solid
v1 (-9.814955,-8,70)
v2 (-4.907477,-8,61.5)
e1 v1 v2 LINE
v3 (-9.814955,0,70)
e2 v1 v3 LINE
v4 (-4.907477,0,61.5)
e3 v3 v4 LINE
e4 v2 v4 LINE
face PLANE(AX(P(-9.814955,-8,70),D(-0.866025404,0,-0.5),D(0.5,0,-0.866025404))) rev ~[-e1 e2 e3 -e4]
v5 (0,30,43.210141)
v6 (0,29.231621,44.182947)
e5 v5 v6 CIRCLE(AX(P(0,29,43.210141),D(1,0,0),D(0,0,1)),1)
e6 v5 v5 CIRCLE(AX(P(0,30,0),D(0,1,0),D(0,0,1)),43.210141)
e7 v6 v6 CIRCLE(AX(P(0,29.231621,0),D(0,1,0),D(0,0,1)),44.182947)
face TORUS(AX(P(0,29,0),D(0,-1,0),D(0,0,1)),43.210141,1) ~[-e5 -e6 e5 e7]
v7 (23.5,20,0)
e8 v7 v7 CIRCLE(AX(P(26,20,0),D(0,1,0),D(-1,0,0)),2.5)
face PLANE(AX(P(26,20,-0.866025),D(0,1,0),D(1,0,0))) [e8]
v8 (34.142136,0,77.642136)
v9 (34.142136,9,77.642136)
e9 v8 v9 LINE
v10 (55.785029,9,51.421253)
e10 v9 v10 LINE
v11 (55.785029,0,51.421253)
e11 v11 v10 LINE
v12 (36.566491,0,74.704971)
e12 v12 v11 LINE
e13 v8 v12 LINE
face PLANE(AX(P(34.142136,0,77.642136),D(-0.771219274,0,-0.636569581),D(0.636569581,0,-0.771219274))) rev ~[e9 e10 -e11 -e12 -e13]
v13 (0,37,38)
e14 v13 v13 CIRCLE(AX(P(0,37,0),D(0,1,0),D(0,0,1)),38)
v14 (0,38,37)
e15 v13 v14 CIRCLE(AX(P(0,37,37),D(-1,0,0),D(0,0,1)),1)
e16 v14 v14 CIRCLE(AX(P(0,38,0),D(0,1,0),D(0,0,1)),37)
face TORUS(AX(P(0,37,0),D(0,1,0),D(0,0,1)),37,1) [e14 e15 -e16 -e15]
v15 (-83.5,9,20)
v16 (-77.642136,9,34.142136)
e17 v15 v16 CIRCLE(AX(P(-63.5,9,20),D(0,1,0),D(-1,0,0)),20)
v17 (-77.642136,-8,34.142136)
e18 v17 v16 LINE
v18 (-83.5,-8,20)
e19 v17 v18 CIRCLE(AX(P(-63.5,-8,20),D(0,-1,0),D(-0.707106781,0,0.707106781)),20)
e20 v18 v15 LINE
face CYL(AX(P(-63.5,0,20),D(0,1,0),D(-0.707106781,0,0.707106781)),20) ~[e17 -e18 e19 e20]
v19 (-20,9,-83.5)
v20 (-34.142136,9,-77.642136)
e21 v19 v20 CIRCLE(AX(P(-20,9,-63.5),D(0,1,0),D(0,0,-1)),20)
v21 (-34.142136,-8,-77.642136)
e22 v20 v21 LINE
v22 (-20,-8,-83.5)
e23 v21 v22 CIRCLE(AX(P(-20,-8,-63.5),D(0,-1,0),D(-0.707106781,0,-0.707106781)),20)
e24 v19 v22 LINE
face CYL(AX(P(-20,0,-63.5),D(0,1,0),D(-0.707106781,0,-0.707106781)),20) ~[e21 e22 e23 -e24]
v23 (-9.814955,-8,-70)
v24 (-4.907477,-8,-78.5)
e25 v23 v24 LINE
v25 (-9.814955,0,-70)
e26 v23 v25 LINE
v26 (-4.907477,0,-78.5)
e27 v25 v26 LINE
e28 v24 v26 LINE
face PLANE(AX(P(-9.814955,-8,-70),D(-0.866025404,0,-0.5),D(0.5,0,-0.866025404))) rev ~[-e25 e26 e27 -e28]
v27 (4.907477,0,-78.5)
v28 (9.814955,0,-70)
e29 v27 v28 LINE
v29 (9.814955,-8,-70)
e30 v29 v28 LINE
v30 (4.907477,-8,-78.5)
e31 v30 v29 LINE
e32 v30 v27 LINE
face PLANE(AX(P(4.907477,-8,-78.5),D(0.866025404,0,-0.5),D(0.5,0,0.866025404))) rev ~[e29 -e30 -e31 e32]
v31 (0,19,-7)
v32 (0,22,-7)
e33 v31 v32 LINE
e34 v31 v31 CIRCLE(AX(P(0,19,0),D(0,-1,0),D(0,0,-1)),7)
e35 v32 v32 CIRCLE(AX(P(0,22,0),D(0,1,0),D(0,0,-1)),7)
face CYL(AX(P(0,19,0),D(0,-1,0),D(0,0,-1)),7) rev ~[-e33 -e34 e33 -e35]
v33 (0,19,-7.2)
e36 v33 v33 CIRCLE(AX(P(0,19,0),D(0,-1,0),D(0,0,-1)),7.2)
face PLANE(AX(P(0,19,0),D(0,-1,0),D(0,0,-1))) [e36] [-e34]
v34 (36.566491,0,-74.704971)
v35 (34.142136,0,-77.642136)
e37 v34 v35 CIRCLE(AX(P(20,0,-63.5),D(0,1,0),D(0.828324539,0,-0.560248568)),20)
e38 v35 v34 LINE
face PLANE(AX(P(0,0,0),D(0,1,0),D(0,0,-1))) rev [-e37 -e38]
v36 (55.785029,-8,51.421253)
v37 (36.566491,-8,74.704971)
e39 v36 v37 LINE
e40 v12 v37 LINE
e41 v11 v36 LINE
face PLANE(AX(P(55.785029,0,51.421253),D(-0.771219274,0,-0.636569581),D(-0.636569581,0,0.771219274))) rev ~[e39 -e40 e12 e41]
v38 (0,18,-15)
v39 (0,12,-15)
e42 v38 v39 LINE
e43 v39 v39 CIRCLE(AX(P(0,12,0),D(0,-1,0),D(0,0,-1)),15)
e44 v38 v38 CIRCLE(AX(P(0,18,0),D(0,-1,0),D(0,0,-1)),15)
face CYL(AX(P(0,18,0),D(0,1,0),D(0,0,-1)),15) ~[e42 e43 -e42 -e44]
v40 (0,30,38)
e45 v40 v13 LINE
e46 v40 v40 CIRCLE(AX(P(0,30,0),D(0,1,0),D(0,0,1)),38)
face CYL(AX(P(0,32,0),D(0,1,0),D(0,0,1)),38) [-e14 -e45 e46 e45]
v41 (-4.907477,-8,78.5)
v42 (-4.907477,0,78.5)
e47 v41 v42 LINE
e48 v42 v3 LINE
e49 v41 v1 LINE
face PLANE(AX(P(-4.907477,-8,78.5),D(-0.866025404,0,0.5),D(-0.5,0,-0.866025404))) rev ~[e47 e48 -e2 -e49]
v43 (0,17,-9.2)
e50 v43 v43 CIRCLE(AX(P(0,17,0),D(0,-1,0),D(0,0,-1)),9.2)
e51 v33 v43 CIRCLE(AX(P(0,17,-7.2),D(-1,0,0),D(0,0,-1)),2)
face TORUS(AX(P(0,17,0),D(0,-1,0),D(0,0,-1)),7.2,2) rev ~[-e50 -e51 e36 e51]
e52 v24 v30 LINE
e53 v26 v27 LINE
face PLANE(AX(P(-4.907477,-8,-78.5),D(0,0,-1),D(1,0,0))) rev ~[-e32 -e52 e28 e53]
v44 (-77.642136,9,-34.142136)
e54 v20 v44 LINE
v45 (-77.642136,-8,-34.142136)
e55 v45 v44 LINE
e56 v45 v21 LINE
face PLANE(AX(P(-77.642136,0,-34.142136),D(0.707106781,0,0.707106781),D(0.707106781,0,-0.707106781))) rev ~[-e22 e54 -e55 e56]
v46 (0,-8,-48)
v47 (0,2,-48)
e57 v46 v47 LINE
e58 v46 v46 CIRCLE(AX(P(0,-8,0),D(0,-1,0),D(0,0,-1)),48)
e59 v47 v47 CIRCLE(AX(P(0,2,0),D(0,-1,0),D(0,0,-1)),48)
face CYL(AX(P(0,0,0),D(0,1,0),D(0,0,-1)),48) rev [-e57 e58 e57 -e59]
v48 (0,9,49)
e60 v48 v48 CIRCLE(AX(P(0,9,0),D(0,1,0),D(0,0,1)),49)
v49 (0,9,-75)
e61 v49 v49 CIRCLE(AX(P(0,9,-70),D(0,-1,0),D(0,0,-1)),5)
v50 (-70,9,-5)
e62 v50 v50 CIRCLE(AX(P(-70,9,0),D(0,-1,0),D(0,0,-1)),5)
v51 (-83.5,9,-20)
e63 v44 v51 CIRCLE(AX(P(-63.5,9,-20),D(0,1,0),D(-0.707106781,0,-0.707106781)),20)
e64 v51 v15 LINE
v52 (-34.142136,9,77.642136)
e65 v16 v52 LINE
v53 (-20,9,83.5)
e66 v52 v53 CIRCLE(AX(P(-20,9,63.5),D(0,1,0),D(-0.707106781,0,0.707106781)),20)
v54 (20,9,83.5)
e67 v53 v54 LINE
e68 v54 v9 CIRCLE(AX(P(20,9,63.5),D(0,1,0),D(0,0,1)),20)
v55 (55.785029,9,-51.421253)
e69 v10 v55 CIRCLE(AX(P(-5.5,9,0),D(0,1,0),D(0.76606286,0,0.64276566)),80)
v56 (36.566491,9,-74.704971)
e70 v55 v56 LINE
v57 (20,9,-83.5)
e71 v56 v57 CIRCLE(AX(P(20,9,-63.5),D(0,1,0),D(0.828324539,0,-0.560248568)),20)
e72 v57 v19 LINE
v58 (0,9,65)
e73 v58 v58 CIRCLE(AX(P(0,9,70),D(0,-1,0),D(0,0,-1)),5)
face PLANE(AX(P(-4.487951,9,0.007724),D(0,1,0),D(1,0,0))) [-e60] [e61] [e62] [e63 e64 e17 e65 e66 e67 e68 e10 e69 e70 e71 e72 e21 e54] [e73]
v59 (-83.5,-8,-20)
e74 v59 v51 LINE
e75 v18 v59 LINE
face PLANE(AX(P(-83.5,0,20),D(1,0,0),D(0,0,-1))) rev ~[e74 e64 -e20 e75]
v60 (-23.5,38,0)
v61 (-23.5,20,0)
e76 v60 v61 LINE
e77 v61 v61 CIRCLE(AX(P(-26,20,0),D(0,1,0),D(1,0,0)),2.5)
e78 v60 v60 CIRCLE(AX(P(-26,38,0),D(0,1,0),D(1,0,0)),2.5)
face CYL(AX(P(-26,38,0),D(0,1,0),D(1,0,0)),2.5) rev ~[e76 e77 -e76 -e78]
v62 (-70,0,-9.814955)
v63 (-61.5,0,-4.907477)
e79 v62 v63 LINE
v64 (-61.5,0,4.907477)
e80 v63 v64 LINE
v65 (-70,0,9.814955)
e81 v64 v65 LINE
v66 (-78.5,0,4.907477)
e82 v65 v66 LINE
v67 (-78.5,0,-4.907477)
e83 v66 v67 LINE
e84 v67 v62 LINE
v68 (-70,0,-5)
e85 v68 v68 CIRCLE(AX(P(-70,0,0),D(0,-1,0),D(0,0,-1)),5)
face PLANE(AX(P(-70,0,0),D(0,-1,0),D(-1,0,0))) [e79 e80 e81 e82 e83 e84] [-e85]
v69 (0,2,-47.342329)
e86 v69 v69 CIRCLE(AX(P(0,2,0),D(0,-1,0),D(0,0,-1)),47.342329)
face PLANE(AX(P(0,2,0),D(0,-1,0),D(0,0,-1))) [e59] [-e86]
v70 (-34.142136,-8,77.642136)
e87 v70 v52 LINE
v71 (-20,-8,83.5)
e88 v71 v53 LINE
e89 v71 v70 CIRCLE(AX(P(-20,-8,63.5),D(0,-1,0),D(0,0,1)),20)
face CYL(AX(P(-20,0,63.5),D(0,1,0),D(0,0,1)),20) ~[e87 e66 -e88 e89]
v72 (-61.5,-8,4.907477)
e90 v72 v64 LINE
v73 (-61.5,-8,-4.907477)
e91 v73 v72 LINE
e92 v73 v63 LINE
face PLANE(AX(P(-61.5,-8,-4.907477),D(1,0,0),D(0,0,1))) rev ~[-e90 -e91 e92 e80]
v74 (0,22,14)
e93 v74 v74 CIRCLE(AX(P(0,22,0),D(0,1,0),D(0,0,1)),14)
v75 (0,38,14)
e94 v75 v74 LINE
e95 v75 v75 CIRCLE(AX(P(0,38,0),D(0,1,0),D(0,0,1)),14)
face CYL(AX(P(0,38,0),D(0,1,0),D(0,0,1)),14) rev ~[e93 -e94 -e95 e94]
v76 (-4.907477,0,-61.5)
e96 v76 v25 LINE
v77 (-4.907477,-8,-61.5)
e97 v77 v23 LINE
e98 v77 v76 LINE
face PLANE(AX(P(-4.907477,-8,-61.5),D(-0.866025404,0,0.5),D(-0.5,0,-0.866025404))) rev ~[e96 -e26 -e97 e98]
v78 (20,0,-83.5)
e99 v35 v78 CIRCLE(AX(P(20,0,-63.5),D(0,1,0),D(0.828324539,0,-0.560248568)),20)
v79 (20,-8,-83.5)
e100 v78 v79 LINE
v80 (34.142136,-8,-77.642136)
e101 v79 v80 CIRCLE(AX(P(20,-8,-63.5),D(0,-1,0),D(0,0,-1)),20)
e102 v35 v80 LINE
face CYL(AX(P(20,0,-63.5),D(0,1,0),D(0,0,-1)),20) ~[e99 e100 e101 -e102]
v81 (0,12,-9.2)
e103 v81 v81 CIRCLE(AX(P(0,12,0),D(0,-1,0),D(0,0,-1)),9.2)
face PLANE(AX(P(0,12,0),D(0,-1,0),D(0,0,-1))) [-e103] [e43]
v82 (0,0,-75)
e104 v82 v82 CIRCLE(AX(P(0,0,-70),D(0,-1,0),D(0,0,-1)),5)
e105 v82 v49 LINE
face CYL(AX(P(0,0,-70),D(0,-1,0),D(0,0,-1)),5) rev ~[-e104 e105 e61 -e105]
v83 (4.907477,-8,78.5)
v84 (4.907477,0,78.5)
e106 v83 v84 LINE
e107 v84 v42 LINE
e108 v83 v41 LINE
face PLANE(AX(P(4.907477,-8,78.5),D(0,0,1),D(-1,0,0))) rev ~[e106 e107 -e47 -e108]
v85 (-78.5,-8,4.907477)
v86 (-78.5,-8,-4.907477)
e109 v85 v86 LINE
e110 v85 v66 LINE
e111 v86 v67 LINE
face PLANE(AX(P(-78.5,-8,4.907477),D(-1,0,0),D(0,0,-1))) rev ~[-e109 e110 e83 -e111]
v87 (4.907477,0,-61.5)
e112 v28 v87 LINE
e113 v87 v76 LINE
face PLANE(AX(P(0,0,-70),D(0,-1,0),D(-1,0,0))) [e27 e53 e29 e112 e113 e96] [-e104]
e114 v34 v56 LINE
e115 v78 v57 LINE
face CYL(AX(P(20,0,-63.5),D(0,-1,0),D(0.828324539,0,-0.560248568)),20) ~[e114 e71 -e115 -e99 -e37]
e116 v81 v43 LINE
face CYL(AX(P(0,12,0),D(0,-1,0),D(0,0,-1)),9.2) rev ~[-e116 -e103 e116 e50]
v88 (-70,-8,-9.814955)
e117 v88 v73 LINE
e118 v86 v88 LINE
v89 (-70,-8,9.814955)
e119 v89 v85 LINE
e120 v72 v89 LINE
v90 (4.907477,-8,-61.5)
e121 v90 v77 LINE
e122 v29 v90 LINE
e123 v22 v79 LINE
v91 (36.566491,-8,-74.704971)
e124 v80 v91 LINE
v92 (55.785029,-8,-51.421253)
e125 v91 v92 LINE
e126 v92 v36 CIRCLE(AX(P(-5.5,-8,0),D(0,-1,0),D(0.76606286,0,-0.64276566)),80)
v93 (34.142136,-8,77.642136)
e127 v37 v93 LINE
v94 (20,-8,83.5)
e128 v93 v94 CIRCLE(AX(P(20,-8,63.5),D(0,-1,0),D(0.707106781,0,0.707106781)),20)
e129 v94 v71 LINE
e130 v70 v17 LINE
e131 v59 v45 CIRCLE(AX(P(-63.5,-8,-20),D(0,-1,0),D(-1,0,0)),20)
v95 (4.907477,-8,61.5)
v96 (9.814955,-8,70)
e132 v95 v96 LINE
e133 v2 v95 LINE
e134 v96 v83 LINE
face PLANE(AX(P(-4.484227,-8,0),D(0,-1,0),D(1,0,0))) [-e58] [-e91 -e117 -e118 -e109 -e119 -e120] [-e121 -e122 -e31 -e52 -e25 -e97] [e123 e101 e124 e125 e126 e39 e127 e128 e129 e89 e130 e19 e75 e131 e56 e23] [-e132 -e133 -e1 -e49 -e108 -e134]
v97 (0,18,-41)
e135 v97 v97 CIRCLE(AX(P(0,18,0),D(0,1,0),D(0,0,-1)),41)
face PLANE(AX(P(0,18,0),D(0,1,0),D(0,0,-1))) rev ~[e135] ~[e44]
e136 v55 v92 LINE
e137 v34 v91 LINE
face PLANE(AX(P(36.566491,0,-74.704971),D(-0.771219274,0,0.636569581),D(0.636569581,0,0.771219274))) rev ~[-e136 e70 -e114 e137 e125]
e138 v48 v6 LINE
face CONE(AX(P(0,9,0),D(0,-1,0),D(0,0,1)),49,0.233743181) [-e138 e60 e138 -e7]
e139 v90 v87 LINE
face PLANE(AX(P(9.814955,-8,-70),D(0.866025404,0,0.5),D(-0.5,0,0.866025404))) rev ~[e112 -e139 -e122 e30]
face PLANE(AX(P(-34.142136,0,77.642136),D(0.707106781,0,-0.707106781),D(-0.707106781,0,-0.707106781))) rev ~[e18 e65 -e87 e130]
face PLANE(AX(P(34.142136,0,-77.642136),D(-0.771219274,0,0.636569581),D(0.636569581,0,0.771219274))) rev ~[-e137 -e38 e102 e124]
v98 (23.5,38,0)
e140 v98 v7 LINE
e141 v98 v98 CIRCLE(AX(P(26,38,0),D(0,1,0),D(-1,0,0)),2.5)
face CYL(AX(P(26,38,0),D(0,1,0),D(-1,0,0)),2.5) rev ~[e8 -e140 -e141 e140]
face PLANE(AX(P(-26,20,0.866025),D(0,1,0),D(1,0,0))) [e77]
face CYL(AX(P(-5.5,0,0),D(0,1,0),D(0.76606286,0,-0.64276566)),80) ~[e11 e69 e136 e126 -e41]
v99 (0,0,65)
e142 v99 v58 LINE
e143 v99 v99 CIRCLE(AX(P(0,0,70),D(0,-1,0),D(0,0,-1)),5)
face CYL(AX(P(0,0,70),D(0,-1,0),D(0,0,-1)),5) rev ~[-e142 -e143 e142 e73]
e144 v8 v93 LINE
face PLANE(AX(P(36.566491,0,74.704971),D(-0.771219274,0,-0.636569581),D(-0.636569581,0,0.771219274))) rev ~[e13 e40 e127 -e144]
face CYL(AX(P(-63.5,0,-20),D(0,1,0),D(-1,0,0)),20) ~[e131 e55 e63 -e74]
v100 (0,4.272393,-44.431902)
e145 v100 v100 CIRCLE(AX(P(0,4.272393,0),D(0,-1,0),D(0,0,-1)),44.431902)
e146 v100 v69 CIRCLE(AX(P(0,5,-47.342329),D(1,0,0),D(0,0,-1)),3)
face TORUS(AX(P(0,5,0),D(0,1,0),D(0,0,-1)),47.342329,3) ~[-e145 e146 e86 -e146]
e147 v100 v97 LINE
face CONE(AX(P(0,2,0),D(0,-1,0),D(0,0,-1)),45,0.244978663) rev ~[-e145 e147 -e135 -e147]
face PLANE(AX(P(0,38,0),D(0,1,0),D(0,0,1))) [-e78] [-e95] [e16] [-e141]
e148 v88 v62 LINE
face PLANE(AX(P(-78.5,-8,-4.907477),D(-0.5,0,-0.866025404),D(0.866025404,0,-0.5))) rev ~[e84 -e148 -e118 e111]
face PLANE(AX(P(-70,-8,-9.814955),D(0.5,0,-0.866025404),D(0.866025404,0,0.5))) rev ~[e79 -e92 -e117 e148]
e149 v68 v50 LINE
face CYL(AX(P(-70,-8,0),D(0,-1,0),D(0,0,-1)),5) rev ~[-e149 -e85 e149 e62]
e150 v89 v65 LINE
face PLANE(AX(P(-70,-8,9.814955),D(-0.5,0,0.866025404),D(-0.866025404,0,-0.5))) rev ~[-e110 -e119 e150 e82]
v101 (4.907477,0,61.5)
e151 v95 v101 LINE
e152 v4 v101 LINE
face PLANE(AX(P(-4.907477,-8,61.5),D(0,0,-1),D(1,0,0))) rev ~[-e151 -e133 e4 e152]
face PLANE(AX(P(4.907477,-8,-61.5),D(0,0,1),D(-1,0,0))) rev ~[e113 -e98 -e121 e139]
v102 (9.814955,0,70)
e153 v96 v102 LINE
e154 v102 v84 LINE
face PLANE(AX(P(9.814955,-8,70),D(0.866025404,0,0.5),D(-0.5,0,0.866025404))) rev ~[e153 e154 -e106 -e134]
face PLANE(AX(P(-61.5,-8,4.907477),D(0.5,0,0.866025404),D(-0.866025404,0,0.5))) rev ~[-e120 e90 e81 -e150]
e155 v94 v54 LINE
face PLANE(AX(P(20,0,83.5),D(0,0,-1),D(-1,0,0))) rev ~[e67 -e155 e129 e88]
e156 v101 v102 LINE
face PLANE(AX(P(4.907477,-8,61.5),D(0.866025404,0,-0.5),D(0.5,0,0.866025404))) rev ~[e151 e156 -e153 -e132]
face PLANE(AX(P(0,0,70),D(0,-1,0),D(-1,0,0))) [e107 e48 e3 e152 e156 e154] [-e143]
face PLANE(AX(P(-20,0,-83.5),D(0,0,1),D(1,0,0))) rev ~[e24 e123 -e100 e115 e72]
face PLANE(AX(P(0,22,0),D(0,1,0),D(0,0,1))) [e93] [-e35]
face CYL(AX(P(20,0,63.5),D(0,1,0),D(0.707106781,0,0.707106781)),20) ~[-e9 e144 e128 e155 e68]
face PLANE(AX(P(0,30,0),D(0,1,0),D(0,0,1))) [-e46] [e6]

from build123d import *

# Parameters (mm, degrees)
SKETCH1_W           = 44
SKETCH1_H           = 14
SKETCH1_W_2         = 51
SKETCH1_H_2         = 2
SKETCH3_W           = 45
SKETCH3_H           = 2
SKETCH4_R           = 15
BOSS_EXTRUDE1_DEPTH = 6
SKETCH5_R           = 9.2
CUT_EXTRUDE3_DEPTH  = 7
SKETCH6_R           = 7
CUT_EXTRUDE4_DEPTH  = 27
FILLET1_R           = 2
SKETCH9_R           = 44
SKETCH9_R_2         = 38
CUT_EXTRUDE6_DEPTH  = 2
SKETCH13_R          = 38
SKETCH13_R_2        = 7
BOSS_EXTRUDE2_DEPTH = 6
FILLET5_R           = 1
SKETCH14_R          = 14
SKETCH14_R_2        = 7
CUT_EXTRUDE9_DEPTH  = 16
BOSS_EXTRUDE3_DEPTH = 9
SKETCH16_W          = 15
SKETCH16_H          = 10
SKETCH17_R          = 5
CUT_EXTRUDE11_DEPTH = 10
FILLET6_R           = 1
SKETCH26_W          = 3
SKETCH26_H          = 2
SKETCH29_R          = 48
SKETCH29_R_2        = 45
CUT_EXTRUDE12_DEPTH = 2
FILLET7_R           = 3
SKETCH34_R          = 5
SKETCH34_R_2        = 48
BOSS_EXTRUDE7_DEPTH = 8
CUT_EXTRUDE14_DEPTH = 8
CUT_EXTRUDE15_DEPTH = 18
SKETCH40_R          = 5
CUT_EXTRUDE16_DEPTH = 20
CUT_EXTRUDE17_DEPTH = 8


with BuildPart() as part:
    # Sketch1 → Revolve1 (revolve)
    with BuildSketch(Plane(origin=(0, 0, 0), x_dir=(0, 0, -1), z_dir=(1, 0, 0)), mode=Mode.PRIVATE) as revolve1_sk:
        with Locations((22, 25)):
            Rectangle(SKETCH1_W, SKETCH1_H)
        Polygon((44, 18), (0, 18), (0, 2), (51, 2), align=None)
        with Locations((25.5, 1)):
            Rectangle(SKETCH1_W_2, SKETCH1_H_2)
    revolve(revolve1_sk.sketch.rotate(Axis((0, 32.712152445, 0), (0, -1, 0)), 180), axis=Axis((0, 32.712152445, 0), (0, -1, 0)))

    # Sketch3 → Cut-Revolve1 (revolve, cut)
    with BuildSketch(Plane(origin=(0, 0, 0), x_dir=(0, 0, -1), z_dir=(1, 0, 0))):
        with Locations((22.5, 1)):
            Rectangle(SKETCH3_W, SKETCH3_H)
        Polygon((0, 18), (0, 2), (45, 2), (41, 18), align=None)
    revolve(axis=Axis((0, -18.749054984, 0), (0, 1, 0)), mode=Mode.SUBTRACT)

    # Sketch4 → Boss-Extrude1 (add)
    with BuildSketch(Plane(origin=(0, 18, 0), x_dir=(-1, 0, 0), z_dir=(0, -1, 0))):
        with Locations(Location((0, 0, 0), (0, 0, 90))):
            Circle(SKETCH4_R)
    extrude(amount=BOSS_EXTRUDE1_DEPTH)

    # Sketch5 → Cut-Extrude3 (cut)
    with BuildSketch(Plane.XZ.offset(-12)):
        with Locations(Location((0, 0, 0), (0, 0, 270))):
            Circle(SKETCH5_R)
    extrude(amount=-CUT_EXTRUDE3_DEPTH, mode=Mode.SUBTRACT)

    # Sketch6 → Cut-Extrude4 (cut)
    with BuildSketch(Plane.XZ.offset(-19)):
        with Locations(Location((0, 0, 0), (0, 0, 270))):
            Circle(SKETCH6_R)
    extrude(amount=-CUT_EXTRUDE4_DEPTH, mode=Mode.SUBTRACT)

    # Fillet1
    fillet1_edges = [part.edges().sort_by_distance(p)[0] for p in [
        (0, 19, 9.2),
    ]]
    fillet(fillet1_edges, radius=FILLET1_R)

    # Sketch9 → Cut-Extrude6 (cut)
    with BuildSketch(Plane(origin=(0, 32, 0), x_dir=(1, 0, 0), z_dir=(0, 1, 0))):
        with Locations(Location((0, 0, 0), (0, 0, 270))):
            Circle(SKETCH9_R)
        with Locations(Location((0, 0, 0), (0, 0, 270))):
            Circle(SKETCH9_R_2, mode=Mode.SUBTRACT)
    extrude(amount=-CUT_EXTRUDE6_DEPTH, mode=Mode.SUBTRACT)

    # Sketch13 → Boss-Extrude2 (add)
    with BuildSketch(Plane(origin=(0, 32, 0), x_dir=(1, 0, 0), z_dir=(0, 1, 0))):
        with Locations(Location((0, 0, 0), (0, 0, 270))):
            Circle(SKETCH13_R)
        with Locations(Location((0, 0, 0), (0, 0, 90))):
            Circle(SKETCH13_R_2, mode=Mode.SUBTRACT)
    extrude(amount=BOSS_EXTRUDE2_DEPTH)

    # Fillet5
    fillet5_edges = [part.edges().sort_by_distance(p)[0] for p in [
        (0, 38, -38),
    ]]
    fillet(fillet5_edges, radius=FILLET5_R)

    # Sketch14 → Cut-Extrude9 (cut)
    with BuildSketch(Plane(origin=(0, 38, 0), x_dir=(1, 0, 0), z_dir=(0, 1, 0))):
        with Locations(Location((0, 0, 0), (0, 0, 270))):
            Circle(SKETCH14_R)
        with Locations(Location((0, 0, 0), (0, 0, 90))):
            Circle(SKETCH14_R_2, mode=Mode.SUBTRACT)
    extrude(amount=-CUT_EXTRUDE9_DEPTH, mode=Mode.SUBTRACT)

    # Sketch15 → Boss-Extrude3 (add)
    with BuildSketch(Plane(origin=(0, 0, 0), x_dir=(1, 0, 0), z_dir=(0, 1, 0))):
        with BuildLine():
            Line((-77.642135624, -34.142135624), (-34.142135624, -77.642135624))
            ThreePointArc((-34.142135624, -77.642135624), (-27.653668647, -81.97759065), (-20, -83.5))
            Line((-20, -83.5), (20, -83.5))
            ThreePointArc((20, -83.5), (27.653668647, -81.97759065), (34.142135624, -77.642135624))
            Line((34.142135624, -77.642135624), (55.785028834, -51.421252812))
            ThreePointArc((55.785028834, -51.421252812), (74.5, 0), (55.785028834, 51.421252812))
            Line((55.785028834, 51.421252812), (36.56649078, 74.704971363))
            ThreePointArc((36.56649078, 74.704971363), (29.3781814, 81.164928917), (20, 83.5))
            Line((20, 83.5), (-20, 83.5))
            ThreePointArc((-20, 83.5), (-27.653668647, 81.97759065), (-34.142135624, 77.642135624))
            Line((-34.142135624, 77.642135624), (-77.642135624, 34.142135624))
            ThreePointArc((-77.642135624, 34.142135624), (-81.97759065, 27.653668647), (-83.5, 20))
            Line((-83.5, 20), (-83.5, -20))
            ThreePointArc((-83.5, -20), (-81.97759065, -27.653668647), (-77.642135624, -34.142135624))
        make_face()
    extrude(amount=BOSS_EXTRUDE3_DEPTH)

    # Sketch16 → Cut-Revolve3 (revolve, cut)
    with BuildSketch(Plane(origin=(0, 0, 0), x_dir=(0, 0, -1), z_dir=(1, 0, 0))):
        Polygon((15, 12), (15, 2), (48, 2), (41, 18), (15, 18), align=None)
        with Locations((7.5, 7)):
            Rectangle(SKETCH16_W, SKETCH16_H)
        Polygon((0, 2), (0, 0), (48, 0), (48, 2), (15, 2), align=None)
    revolve(axis=Axis((0, -11.590018377, 0), (0, 1, 0)), mode=Mode.SUBTRACT)

    # Sketch17 → Cut-Extrude11 (cut)
    with BuildSketch(Plane(origin=(0, 0, 0), x_dir=(-1, 0, 0), z_dir=(0, -1, 0))):
        with Locations(Location((0, 70, 0), (0, 0, 90))):
            Circle(SKETCH17_R)
        with Locations(Location((0, -70, 0), (0, 0, 90))):
            Circle(SKETCH17_R)
    extrude(amount=-CUT_EXTRUDE11_DEPTH, mode=Mode.SUBTRACT)

    # Sketch21 → Revolve3 (revolve)
    with BuildSketch(Plane(origin=(0, 0, 0), x_dir=(0, 0, -1), z_dir=(1, 0, 0)), mode=Mode.PRIVATE) as revolve3_sk:
        Polygon((40.904222375, 30), (45.904222375, 9), (49, 9), (44, 30), align=None)
    revolve(revolve3_sk.sketch.rotate(Axis((0, -11.272163733, 0), (0, 1, 0)), 180), axis=Axis((0, -11.272163733, 0), (0, 1, 0)))

    # Fillet6
    fillet6_edges = [part.edges().sort_by_distance(p)[0] for p in [
        (0, 30, -44),
    ]]
    fillet(fillet6_edges, radius=FILLET6_R)

    # Sketch26 → Revolve4 (revolve)
    with BuildSketch(Plane(origin=(0, 0, 0), x_dir=(0, 0, -1), z_dir=(1, 0, 0))):
        Polygon((48, 2), (45, 2), (41, 18), align=None)
        with Locations((46.5, 1)):
            Rectangle(SKETCH26_W, SKETCH26_H)
    revolve(axis=Axis((0, -14.846098764, 0), (0, 1, 0)))

    # Sketch29 → Cut-Extrude12 (cut)
    with BuildSketch(Plane(origin=(0, 0, 0), x_dir=(-1, 0, 0), z_dir=(0, -1, 0))):
        with Locations(Location((0, 0, 0), (0, 0, 90))):
            Circle(SKETCH29_R)
        Circle(SKETCH29_R_2, mode=Mode.SUBTRACT)
    extrude(amount=-CUT_EXTRUDE12_DEPTH, mode=Mode.SUBTRACT)

    # Fillet7
    fillet7_edges = [part.edges().sort_by_distance(p)[0] for p in [
        (0, 2, 45),
    ]]
    fillet(fillet7_edges, radius=FILLET7_R)

    # Sketch34 → Boss-Extrude7 (add)
    with BuildSketch(Plane.XZ):
        with BuildLine():
            Line((-77.642135624, -34.142135624), (-34.142135624, -77.642135624))
            ThreePointArc((-34.142135624, -77.642135624), (-27.653668647, -81.97759065), (-20, -83.5))
            Line((-20, -83.5), (20, -83.5))
            ThreePointArc((20, -83.5), (27.653668647, -81.97759065), (34.142135624, -77.642135624))
            Line((34.142135624, -77.642135624), (36.56649078, -74.704971363))
            Line((36.56649078, -74.704971363), (55.785028834, -51.421252812))
            ThreePointArc((55.785028834, -51.421252812), (74.5, 0), (55.785028834, 51.421252812))
            Line((55.785028834, 51.421252812), (36.56649078, 74.704971362))
            Line((36.56649078, 74.704971362), (34.142135624, 77.642135624))
            ThreePointArc((34.142135624, 77.642135624), (27.653668647, 81.97759065), (20, 83.5))
            Line((20, 83.5), (-20, 83.5))
            ThreePointArc((-20, 83.5), (-27.653668647, 81.97759065), (-34.142135624, 77.642135624))
            Line((-34.142135624, 77.642135624), (-77.642135624, 34.142135624))
            ThreePointArc((-77.642135624, 34.142135624), (-81.97759065, 27.653668647), (-83.5, 20))
            Line((-83.5, 20), (-83.5, -20))
            ThreePointArc((-83.5, -20), (-81.97759065, -27.653668647), (-77.642135624, -34.142135624))
        make_face()
        with Locations(Location((0, -70, 0), (0, 0, 270))):
            Circle(SKETCH34_R, mode=Mode.SUBTRACT)
        with Locations(Location((0, 0, 0), (0, 0, 270))):
            Circle(SKETCH34_R_2, mode=Mode.SUBTRACT)
        with Locations(Location((0, 70, 0), (0, 0, 270))):
            Circle(SKETCH34_R, mode=Mode.SUBTRACT)
    extrude(amount=BOSS_EXTRUDE7_DEPTH)

    # Sketch35 → Cut-Extrude14 (cut)
    with BuildSketch(Plane(origin=(0, -8, 0), x_dir=(-1, 0, 0), z_dir=(0, -1, 0))):
        Polygon((-9.814954576, 70), (-4.907477288, 61.5), (4.907477288, 61.5), (9.814954576, 70), (4.907477288, 78.5), (-4.907477288, 78.5), align=None)
        Polygon((-9.814954576, -70), (-4.907477288, -78.5), (4.907477288, -78.5), (9.814954576, -70), (4.907477288, -61.5), (-4.907477288, -61.5), align=None)
    extrude(amount=-CUT_EXTRUDE14_DEPTH, mode=Mode.SUBTRACT)

    # Sketch36 → Cut-Extrude15 (cut)
    with BuildSketch(Plane(origin=(0, 38, 0), x_dir=(1, 0, 0), z_dir=(0, 1, 0))):
        with BuildLine():
            ThreePointArc((28.5, 0), (26, 2.5), (23.5, 0))
            Line((23.5, 0), (28.5, 0))
        make_face()
        with BuildLine():
            Line((28.5, 0), (23.5, 0))
            ThreePointArc((23.5, 0), (26, -2.5), (28.5, 0))
        make_face()
        with BuildLine():
            ThreePointArc((-28.5, 0), (-26, -2.5), (-23.5, 0))
            Line((-23.5, 0), (-28.5, 0))
        make_face()
        with BuildLine():
            Line((-28.5, 0), (-23.5, 0))
            ThreePointArc((-23.5, 0), (-26, 2.5), (-28.5, 0))
        make_face()
    extrude(amount=-CUT_EXTRUDE15_DEPTH, mode=Mode.SUBTRACT)

    # Sketch40 → Cut-Extrude16 (cut)
    with BuildSketch(Plane.XZ.offset(8)):
        with Locations(Location((-70, 0, 0), (0, 0, 270))):
            Circle(SKETCH40_R)
    extrude(amount=-CUT_EXTRUDE16_DEPTH, mode=Mode.SUBTRACT)

    # Sketch41 → Cut-Extrude17 (cut)
    with BuildSketch(Plane(origin=(0, -8, 0), x_dir=(-1, 0, 0), z_dir=(0, -1, 0))):
        Polygon((70, 9.814954576), (61.5, 4.907477288), (61.5, -4.907477288), (70, -9.814954576), (78.5, -4.907477288), (78.5, 4.907477288), align=None)
    extrude(amount=-CUT_EXTRUDE17_DEPTH, mode=Mode.SUBTRACT)


solid = part.part
